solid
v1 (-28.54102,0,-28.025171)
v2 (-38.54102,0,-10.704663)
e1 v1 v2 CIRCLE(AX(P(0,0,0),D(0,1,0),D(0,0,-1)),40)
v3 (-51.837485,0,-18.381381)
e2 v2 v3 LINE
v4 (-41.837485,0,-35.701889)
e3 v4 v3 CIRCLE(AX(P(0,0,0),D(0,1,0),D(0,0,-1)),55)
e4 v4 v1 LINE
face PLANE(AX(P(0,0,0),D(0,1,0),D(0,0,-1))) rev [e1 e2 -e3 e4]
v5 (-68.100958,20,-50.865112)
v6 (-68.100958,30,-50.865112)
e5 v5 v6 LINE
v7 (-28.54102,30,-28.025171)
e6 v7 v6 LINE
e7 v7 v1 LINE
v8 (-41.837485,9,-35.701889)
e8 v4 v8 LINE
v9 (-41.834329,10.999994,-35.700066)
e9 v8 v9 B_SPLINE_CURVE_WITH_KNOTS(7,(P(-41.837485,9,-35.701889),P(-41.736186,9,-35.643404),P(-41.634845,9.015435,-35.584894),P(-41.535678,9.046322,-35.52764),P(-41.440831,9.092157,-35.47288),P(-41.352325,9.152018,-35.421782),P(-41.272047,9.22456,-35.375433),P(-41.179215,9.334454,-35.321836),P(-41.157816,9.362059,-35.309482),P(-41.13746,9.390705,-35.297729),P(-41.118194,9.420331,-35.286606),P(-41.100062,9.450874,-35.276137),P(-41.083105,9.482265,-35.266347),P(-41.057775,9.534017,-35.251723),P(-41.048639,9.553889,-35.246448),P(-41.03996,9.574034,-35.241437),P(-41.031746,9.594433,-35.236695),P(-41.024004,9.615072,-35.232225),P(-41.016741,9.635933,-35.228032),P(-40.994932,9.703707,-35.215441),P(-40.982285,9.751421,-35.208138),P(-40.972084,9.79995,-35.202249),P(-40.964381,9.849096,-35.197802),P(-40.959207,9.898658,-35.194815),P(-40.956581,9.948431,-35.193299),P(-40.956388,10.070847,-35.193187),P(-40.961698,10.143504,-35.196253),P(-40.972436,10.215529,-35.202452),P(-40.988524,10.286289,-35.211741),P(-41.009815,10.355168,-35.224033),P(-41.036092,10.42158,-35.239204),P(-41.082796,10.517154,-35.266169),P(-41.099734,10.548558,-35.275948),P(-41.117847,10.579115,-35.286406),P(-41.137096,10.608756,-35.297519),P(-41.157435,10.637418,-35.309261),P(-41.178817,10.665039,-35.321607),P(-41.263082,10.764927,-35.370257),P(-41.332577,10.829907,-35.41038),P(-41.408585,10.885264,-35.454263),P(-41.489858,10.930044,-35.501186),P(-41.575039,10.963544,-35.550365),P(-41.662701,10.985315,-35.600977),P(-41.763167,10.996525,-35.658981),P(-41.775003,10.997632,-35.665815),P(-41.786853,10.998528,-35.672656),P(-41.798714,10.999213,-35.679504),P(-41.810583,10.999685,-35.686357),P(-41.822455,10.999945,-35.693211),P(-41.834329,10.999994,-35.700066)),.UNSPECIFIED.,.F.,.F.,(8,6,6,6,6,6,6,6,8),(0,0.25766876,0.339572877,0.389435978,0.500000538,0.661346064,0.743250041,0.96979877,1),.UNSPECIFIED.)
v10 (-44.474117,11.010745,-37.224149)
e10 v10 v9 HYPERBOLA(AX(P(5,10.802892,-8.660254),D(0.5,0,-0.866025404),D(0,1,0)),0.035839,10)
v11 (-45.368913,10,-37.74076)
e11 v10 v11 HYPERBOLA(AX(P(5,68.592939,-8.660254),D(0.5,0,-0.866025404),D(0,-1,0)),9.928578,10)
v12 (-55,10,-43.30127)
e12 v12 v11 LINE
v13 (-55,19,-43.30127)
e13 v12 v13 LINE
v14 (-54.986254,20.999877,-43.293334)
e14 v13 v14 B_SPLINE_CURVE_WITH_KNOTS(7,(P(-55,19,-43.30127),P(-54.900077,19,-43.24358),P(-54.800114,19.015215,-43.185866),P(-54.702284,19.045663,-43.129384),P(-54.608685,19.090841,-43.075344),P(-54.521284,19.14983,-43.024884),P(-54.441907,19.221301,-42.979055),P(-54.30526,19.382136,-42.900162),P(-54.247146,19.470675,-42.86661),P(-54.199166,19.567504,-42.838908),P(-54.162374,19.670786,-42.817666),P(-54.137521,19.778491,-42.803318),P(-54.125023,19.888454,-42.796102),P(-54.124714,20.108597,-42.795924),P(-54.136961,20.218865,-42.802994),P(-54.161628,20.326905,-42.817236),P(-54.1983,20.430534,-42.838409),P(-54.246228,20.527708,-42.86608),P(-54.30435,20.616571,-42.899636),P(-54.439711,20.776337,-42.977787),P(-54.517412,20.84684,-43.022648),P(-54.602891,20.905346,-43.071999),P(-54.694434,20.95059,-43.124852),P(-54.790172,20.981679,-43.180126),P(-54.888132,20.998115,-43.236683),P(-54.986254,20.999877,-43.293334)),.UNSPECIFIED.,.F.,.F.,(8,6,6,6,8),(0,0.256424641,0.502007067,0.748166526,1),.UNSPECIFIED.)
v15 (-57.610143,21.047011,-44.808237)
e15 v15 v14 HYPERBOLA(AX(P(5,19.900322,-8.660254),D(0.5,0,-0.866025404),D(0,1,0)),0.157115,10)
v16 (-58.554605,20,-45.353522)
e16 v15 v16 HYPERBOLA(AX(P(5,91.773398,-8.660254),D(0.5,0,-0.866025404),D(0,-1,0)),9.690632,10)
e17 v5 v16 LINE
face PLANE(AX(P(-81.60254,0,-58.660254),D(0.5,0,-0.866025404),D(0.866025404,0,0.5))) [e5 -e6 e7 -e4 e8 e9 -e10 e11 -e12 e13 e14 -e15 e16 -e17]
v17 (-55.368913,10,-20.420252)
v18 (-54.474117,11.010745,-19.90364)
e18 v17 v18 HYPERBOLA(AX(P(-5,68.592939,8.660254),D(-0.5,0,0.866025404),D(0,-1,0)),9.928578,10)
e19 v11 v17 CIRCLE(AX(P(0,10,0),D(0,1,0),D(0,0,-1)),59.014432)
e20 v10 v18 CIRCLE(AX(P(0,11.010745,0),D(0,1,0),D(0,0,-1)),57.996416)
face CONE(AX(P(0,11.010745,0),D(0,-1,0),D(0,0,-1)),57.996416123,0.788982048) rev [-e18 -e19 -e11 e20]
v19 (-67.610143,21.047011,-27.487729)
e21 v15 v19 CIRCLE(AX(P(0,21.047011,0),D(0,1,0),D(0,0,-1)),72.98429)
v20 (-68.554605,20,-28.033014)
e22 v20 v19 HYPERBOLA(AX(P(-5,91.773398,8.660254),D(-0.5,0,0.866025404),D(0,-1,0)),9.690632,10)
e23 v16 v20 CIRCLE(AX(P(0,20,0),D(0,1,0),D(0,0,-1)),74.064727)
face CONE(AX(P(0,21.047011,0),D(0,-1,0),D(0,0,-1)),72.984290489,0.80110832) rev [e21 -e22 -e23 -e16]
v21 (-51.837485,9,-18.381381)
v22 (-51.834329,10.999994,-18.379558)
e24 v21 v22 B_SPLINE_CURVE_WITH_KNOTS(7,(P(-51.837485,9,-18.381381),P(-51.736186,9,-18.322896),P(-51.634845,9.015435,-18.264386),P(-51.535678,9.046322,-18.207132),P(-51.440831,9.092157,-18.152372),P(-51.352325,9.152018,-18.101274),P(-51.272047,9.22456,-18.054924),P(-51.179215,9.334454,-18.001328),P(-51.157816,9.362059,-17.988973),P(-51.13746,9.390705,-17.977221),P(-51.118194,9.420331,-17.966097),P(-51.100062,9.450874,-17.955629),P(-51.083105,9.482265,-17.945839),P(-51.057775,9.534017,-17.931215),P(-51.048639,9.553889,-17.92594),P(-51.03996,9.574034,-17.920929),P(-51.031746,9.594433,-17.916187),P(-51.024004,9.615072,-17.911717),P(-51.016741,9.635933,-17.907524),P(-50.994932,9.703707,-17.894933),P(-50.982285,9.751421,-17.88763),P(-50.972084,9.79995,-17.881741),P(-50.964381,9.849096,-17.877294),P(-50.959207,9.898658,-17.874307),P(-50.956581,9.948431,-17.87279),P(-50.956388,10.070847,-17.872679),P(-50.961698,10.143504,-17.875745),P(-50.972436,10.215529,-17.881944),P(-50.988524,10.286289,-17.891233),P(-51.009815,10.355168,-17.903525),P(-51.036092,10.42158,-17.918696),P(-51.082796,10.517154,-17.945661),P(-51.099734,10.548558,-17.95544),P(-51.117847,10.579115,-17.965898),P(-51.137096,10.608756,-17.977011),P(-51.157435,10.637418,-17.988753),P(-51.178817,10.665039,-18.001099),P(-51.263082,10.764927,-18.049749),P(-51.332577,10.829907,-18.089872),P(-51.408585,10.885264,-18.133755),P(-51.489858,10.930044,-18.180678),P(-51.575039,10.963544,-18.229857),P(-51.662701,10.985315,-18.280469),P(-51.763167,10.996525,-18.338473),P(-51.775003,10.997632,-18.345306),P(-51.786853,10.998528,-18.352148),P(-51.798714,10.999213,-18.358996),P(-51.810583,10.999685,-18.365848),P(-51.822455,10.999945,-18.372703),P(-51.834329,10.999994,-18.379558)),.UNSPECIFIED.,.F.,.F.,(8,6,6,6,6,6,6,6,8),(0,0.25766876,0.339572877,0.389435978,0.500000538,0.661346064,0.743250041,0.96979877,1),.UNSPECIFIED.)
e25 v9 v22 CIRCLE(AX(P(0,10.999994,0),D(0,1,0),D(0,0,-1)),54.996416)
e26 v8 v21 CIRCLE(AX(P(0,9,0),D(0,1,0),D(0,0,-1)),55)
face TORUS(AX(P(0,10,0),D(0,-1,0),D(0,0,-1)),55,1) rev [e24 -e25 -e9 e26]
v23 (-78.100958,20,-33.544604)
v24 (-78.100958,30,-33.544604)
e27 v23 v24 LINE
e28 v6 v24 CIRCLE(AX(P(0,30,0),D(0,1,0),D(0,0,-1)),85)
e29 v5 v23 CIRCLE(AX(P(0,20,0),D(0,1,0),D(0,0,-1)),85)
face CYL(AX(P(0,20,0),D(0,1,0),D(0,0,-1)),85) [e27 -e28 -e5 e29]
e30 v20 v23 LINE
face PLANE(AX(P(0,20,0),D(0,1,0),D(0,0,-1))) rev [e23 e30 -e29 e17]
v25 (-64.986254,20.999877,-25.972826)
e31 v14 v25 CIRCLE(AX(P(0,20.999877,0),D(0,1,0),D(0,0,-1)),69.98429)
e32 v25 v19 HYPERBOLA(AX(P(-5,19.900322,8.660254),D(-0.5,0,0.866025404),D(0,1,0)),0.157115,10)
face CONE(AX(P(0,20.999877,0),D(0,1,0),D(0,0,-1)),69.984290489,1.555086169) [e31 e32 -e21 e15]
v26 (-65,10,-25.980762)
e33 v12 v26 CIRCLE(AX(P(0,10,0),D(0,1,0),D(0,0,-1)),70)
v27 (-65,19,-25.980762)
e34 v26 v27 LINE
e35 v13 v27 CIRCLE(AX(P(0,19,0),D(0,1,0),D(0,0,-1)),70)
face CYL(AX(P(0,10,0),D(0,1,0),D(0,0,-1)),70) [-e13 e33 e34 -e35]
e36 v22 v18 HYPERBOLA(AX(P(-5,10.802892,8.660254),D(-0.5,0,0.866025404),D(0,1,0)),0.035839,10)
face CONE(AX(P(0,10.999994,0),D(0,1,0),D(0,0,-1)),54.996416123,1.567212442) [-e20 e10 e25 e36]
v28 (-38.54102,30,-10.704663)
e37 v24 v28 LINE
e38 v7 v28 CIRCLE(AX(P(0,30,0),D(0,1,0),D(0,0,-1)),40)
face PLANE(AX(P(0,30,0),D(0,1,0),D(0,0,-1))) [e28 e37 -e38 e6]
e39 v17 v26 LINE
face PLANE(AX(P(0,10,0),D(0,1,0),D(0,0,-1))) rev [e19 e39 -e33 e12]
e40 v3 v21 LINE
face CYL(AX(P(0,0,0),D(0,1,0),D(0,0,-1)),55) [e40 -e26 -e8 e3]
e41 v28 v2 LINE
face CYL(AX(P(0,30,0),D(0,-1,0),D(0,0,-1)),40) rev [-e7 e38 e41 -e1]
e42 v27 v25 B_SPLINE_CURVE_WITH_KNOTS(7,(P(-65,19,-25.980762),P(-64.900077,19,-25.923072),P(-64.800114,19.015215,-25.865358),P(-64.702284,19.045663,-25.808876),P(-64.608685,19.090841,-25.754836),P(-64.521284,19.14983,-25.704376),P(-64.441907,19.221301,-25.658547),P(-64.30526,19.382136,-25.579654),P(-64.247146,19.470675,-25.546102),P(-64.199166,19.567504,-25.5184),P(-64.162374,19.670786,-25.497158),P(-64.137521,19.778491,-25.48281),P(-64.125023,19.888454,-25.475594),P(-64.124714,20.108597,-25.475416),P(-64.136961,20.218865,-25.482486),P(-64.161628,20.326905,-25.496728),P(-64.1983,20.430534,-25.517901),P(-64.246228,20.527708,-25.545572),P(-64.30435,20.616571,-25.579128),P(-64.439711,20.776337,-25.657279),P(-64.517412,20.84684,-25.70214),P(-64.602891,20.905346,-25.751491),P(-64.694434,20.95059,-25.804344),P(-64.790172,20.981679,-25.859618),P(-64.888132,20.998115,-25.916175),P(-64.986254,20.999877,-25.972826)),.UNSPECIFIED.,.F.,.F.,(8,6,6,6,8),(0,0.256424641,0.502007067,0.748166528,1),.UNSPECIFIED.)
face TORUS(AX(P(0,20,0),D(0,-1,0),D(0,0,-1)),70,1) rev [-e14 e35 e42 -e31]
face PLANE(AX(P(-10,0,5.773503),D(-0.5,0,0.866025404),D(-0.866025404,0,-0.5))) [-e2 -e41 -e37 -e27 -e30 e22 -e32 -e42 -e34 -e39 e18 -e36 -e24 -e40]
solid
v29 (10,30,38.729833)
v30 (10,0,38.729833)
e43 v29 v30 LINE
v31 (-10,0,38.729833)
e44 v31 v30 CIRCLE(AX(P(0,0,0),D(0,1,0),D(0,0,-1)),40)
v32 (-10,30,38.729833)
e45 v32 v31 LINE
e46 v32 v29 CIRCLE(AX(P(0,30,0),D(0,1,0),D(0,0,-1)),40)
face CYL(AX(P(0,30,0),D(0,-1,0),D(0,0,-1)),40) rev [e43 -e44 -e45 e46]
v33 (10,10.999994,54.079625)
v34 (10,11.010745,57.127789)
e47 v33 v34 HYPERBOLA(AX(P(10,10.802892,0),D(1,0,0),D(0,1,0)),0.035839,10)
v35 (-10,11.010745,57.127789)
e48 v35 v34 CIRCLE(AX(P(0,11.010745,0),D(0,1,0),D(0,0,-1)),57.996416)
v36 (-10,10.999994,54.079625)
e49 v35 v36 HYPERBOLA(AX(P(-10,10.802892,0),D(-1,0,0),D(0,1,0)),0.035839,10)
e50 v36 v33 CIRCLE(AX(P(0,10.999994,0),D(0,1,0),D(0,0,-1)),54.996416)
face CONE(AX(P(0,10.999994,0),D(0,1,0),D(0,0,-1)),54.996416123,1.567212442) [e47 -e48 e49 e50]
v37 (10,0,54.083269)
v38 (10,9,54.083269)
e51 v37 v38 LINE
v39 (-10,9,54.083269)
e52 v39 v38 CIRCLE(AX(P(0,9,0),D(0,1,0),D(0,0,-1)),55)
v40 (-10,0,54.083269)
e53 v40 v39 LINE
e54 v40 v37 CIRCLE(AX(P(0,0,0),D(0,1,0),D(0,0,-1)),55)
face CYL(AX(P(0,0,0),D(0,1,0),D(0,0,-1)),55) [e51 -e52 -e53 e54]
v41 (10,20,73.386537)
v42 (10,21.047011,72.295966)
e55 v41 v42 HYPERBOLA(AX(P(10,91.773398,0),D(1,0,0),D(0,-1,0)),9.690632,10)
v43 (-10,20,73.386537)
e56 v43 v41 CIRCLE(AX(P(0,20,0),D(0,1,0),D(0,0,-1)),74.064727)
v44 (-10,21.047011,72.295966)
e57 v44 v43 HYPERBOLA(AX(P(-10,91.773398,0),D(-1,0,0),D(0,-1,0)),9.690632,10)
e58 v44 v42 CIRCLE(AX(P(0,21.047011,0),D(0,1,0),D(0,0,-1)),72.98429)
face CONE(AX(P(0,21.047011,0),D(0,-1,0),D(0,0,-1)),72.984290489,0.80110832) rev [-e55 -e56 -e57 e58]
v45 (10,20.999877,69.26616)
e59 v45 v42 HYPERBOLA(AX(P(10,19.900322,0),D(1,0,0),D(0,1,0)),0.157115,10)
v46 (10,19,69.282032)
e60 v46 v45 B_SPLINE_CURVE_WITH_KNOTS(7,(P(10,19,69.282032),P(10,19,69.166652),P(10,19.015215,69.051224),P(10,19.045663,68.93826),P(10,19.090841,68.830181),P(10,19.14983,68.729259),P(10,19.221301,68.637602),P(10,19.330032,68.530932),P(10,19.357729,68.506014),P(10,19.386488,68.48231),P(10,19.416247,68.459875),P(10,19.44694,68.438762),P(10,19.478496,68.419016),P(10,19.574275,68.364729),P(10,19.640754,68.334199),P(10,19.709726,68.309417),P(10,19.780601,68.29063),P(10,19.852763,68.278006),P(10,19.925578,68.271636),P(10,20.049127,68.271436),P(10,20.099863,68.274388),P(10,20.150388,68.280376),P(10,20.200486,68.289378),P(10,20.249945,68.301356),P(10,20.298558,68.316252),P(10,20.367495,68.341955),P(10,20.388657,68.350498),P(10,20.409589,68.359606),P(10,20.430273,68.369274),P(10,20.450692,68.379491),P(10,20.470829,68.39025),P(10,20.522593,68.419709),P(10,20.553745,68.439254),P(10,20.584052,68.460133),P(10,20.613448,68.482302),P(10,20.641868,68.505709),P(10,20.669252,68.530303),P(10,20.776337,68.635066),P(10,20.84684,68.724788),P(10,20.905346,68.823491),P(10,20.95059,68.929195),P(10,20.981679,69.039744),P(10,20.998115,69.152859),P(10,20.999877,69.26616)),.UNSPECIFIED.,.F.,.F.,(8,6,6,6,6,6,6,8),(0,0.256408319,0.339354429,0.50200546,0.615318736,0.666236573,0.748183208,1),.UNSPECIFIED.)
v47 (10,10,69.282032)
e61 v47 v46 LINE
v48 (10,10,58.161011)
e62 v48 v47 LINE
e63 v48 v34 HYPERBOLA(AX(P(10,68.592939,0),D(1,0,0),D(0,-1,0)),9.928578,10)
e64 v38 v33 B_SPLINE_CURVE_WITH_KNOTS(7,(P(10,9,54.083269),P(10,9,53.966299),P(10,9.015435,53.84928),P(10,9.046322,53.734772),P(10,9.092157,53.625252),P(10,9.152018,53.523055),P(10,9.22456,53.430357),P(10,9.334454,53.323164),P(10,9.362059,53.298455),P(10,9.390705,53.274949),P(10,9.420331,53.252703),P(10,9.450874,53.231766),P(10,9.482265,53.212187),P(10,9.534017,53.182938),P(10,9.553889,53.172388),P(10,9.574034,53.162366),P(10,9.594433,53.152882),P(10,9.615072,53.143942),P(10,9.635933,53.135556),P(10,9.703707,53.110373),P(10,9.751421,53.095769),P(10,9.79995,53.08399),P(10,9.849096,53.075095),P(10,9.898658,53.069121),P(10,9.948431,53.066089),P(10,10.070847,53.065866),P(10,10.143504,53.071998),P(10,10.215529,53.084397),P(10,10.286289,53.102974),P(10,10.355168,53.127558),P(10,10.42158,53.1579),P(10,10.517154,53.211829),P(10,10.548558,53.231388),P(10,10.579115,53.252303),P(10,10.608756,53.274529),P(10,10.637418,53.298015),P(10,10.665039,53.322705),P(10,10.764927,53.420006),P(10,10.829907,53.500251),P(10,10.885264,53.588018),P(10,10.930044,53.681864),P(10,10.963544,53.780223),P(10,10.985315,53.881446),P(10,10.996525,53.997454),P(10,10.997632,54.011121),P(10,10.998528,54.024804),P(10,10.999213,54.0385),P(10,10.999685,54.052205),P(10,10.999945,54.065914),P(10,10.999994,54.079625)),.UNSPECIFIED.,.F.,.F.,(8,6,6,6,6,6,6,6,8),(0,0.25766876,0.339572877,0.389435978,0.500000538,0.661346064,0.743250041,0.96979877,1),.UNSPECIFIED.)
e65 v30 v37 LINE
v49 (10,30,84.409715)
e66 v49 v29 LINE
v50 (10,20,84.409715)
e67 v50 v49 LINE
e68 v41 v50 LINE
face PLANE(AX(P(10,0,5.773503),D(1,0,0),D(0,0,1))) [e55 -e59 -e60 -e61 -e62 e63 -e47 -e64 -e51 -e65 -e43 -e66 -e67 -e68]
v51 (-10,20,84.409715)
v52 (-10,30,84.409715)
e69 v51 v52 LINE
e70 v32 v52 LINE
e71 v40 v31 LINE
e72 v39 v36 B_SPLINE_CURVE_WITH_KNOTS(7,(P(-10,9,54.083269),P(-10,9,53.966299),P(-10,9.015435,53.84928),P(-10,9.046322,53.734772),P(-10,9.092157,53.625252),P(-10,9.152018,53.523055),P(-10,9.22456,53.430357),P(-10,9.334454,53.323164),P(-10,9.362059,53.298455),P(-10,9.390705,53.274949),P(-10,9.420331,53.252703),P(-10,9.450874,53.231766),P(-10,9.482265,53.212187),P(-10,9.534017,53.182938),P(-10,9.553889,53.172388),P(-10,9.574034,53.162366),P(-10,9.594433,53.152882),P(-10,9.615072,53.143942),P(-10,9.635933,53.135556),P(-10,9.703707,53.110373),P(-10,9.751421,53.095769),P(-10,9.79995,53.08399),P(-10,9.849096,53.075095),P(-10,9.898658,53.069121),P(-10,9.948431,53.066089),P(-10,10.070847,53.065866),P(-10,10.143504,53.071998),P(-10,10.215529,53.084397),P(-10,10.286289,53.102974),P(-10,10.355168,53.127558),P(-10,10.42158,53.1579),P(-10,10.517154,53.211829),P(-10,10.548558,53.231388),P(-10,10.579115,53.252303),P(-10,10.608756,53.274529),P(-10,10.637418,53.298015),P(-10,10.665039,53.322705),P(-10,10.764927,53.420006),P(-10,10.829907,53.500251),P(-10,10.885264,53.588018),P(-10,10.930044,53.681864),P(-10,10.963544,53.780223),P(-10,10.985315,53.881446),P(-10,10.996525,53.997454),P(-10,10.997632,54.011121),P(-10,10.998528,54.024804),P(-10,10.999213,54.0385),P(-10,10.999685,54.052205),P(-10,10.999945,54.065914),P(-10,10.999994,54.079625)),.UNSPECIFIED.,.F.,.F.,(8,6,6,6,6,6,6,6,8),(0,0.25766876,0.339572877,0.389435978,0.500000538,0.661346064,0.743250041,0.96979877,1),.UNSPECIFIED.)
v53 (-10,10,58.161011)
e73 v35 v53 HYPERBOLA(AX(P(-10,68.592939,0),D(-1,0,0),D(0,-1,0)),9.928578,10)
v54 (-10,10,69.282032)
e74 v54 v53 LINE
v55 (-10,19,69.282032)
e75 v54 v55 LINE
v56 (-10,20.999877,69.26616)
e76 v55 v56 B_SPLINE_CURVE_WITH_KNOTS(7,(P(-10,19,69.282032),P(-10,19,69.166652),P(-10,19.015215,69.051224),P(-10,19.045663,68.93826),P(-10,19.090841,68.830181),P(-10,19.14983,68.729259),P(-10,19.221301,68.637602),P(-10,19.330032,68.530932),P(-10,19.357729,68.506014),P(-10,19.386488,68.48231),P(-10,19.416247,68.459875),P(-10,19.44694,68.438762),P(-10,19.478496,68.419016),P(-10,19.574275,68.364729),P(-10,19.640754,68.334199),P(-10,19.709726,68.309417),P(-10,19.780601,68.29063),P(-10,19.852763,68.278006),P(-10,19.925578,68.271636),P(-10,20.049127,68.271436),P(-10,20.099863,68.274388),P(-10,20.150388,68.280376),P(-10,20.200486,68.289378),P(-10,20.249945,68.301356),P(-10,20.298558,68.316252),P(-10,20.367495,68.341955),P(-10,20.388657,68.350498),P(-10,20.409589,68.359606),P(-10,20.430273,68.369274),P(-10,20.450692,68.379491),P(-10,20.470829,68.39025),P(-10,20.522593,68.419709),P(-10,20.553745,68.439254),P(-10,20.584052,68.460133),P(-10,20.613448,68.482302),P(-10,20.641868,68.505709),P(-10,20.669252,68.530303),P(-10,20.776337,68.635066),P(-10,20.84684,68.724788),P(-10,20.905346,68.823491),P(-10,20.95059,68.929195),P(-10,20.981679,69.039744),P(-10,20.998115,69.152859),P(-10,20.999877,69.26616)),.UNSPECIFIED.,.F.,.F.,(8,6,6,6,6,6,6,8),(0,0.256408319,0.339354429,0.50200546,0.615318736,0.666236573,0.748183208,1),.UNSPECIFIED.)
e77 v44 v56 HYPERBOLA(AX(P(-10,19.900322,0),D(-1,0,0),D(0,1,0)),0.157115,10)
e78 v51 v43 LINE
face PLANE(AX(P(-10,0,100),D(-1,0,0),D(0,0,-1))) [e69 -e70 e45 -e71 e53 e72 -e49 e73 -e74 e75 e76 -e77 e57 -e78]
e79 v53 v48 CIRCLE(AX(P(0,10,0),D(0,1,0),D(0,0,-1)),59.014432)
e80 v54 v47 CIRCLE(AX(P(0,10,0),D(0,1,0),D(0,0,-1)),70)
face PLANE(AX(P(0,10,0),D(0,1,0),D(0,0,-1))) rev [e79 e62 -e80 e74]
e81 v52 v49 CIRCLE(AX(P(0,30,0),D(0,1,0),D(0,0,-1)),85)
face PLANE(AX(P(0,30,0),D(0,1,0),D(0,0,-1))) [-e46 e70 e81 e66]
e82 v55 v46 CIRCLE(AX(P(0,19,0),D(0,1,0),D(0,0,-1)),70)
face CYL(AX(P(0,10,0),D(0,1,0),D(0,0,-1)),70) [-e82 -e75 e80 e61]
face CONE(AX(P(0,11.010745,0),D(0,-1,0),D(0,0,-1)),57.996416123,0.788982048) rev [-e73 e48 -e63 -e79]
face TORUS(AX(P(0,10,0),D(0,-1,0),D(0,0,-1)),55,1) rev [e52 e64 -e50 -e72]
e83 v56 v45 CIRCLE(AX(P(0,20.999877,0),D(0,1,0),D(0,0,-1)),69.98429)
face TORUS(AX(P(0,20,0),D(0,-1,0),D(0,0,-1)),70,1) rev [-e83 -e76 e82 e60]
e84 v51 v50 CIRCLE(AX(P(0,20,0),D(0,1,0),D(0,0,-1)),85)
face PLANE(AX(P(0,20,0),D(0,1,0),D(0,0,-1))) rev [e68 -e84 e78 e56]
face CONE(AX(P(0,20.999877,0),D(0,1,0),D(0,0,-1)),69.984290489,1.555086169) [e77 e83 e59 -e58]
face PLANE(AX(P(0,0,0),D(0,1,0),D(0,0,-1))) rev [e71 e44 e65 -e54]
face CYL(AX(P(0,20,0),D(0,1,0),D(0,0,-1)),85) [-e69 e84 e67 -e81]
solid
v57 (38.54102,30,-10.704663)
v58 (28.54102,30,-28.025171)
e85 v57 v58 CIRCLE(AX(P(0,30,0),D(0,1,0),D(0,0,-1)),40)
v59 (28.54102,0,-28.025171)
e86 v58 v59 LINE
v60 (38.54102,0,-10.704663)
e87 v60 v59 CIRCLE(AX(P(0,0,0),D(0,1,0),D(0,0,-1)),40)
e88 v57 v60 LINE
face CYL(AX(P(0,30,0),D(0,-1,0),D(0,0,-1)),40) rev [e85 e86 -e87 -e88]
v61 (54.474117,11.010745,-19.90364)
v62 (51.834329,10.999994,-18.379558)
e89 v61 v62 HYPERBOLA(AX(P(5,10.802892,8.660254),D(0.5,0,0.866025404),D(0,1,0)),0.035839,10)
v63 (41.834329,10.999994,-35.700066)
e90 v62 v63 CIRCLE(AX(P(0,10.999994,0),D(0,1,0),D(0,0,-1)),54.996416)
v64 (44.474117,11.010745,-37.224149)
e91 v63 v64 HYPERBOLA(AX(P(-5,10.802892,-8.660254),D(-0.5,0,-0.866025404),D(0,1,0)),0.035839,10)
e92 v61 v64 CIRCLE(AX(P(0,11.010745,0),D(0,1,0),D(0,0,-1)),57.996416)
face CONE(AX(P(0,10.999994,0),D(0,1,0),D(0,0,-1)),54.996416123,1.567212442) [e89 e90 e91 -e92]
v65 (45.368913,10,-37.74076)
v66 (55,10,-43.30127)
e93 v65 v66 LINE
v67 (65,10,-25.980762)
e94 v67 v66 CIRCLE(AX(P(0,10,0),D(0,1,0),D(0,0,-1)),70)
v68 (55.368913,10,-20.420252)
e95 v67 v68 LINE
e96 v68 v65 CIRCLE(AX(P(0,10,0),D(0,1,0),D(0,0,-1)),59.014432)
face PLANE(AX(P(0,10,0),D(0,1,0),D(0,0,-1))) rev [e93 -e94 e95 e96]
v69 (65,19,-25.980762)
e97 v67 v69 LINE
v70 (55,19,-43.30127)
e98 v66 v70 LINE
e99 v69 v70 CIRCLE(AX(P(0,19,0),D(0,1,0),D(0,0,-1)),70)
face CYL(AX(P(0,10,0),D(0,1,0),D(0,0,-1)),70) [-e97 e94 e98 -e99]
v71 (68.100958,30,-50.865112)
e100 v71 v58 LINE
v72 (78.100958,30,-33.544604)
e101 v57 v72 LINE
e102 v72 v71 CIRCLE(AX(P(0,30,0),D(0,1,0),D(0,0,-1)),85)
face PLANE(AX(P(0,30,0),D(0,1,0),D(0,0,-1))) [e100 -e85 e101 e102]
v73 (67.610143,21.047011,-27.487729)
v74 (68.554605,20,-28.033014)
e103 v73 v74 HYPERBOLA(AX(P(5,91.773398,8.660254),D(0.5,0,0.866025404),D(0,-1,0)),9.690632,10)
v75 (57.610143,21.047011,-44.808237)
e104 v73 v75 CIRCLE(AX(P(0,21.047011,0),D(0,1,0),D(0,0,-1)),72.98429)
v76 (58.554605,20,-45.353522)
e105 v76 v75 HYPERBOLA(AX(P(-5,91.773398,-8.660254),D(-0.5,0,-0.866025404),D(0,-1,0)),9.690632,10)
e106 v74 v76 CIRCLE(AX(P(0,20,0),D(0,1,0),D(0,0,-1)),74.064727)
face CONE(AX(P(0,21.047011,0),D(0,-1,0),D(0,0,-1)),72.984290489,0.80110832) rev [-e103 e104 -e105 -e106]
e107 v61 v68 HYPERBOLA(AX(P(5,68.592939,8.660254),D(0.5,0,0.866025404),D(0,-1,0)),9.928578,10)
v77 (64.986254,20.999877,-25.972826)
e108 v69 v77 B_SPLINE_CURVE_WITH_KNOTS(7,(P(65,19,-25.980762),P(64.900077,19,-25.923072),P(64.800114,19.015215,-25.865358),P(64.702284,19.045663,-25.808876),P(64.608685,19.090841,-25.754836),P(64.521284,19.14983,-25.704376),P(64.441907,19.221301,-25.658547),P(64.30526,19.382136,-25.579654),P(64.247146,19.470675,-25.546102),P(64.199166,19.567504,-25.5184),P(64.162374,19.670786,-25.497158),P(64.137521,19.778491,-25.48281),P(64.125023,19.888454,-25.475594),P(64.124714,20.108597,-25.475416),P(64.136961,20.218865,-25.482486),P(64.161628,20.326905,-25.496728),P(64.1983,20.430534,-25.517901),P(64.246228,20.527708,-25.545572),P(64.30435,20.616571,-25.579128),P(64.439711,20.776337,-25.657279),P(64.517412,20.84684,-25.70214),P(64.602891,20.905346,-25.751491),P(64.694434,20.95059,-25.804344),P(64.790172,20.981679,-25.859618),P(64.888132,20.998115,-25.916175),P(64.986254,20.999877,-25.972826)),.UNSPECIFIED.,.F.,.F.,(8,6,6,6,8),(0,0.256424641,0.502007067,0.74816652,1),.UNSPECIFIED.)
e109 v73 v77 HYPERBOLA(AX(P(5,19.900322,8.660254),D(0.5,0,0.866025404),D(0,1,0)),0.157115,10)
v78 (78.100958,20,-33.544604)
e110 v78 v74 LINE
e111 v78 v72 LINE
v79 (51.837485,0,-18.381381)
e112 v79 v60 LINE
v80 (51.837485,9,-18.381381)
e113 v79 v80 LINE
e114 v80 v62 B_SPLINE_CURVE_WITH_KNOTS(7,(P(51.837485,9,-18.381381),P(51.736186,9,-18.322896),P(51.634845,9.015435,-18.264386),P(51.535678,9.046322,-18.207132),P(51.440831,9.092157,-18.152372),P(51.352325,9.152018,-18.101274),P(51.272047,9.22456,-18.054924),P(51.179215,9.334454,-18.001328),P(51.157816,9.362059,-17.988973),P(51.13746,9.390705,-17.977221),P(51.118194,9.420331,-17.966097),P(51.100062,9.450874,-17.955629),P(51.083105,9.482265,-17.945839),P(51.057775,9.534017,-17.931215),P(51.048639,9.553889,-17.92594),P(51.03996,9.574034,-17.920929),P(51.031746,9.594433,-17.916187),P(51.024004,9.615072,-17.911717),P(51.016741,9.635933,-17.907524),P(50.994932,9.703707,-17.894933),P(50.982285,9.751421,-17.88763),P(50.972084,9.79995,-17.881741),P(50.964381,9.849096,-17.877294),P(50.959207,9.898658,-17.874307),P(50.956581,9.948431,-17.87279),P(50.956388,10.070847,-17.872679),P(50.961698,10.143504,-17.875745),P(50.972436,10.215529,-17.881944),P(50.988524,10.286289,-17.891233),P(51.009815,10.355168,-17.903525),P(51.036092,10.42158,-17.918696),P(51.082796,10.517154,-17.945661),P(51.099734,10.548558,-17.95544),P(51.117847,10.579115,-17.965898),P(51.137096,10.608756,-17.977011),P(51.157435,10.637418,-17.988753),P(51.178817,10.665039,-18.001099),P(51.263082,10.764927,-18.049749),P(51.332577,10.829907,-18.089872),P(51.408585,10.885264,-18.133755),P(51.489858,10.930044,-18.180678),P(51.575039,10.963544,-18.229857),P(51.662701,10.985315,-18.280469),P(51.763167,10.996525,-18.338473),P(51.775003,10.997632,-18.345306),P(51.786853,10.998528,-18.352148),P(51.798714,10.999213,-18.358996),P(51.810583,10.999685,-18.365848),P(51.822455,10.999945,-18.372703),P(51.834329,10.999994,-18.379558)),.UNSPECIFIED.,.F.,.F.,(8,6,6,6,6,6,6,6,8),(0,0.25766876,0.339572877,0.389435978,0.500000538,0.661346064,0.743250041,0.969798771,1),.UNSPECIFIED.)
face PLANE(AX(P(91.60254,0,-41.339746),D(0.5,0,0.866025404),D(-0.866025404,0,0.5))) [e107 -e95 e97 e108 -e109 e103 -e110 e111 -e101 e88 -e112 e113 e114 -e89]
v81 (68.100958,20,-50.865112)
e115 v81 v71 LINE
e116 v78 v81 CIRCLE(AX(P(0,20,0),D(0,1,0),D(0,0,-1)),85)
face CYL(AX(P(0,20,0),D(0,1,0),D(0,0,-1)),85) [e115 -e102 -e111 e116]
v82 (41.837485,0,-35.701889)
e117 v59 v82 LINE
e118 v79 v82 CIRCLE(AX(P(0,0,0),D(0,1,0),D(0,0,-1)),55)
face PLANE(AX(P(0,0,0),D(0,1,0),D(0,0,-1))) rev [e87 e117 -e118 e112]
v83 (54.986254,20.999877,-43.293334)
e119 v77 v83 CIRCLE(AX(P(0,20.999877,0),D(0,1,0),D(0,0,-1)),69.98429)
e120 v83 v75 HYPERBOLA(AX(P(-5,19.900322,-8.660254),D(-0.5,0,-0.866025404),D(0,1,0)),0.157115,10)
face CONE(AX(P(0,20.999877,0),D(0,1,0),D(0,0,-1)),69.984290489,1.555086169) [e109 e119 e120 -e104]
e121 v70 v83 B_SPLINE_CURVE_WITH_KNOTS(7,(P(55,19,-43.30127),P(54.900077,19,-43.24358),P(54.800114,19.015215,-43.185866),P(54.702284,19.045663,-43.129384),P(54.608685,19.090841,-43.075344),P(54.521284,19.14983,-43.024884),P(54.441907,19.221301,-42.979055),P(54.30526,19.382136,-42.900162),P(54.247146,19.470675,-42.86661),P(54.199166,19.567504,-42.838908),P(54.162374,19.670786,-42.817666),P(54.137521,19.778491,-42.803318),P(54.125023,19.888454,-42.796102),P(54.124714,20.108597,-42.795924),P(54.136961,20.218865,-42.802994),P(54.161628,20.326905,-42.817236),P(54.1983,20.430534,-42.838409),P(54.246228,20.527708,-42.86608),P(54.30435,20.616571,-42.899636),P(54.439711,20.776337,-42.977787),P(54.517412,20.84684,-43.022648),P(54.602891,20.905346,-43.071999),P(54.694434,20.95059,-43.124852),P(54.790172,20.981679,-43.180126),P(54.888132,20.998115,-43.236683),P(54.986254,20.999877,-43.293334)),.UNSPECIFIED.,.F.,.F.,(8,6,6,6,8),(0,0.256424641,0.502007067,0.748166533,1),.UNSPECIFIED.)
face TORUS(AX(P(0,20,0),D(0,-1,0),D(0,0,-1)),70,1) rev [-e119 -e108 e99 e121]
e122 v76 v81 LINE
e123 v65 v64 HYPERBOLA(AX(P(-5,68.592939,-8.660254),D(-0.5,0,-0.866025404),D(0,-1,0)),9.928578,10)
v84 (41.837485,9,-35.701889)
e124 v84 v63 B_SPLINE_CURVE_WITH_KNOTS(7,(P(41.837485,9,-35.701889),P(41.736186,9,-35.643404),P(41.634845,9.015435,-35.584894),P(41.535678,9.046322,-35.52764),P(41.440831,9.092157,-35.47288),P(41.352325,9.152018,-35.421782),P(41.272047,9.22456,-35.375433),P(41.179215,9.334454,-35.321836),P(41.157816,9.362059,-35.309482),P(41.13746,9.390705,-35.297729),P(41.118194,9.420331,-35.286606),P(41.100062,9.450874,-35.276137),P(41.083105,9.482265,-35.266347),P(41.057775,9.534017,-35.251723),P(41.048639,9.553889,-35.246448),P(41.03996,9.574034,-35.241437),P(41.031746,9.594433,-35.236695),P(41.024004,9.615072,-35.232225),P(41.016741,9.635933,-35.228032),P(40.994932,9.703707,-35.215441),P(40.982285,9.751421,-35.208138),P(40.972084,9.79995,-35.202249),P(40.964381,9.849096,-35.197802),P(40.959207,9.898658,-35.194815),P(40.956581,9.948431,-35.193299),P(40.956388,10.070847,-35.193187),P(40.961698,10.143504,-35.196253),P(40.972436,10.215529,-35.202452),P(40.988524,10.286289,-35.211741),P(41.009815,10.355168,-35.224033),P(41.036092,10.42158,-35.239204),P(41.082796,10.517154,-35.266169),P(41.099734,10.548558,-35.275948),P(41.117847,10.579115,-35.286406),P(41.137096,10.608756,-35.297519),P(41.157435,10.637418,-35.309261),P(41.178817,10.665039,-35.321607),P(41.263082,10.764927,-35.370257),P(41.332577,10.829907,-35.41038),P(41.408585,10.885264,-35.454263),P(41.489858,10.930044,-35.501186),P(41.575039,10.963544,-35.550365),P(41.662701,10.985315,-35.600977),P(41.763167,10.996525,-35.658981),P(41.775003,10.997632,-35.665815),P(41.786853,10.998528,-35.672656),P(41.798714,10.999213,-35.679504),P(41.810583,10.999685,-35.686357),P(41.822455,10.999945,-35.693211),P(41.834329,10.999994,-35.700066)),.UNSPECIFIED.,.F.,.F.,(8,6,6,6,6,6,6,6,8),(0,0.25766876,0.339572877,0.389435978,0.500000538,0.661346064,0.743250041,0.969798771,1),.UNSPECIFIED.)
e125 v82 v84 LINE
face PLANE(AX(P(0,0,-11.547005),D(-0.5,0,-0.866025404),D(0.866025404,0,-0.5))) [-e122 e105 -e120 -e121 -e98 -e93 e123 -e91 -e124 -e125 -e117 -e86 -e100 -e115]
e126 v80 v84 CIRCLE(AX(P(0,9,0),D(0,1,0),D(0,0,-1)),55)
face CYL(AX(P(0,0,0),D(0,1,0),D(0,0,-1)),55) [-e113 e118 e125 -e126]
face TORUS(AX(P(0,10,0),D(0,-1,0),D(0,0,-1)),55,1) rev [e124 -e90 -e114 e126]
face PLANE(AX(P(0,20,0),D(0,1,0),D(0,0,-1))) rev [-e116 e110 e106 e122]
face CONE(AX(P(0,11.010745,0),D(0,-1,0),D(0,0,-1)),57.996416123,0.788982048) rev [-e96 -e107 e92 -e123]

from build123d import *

# Parameters (mm, degrees)
SKETCH2_OUTSIDE_W  = 220.456
SKETCH2_OUTSIDE_H  = 220.456
CUT_EXTRUDE2_DEPTH = 124.895116934


with BuildPart() as part:
    # Sketch1 → Revolve1 (revolve)
    with BuildSketch(Plane.XY, mode=Mode.PRIVATE) as revolve1_sk:
        with BuildLine():
            Line((55, 0), (55, 9))
            ThreePointArc((55, 9), (54.000001606, 9.998208058), (54.996416123, 10.999993578))
            Line((54.996416123, 10.999993578), (57.996416123, 11.010745279))
            Line((57.996416123, 11.010745279), (59.01443228, 10))
            Line((59.01443228, 10), (70, 10))
            Line((70, 10), (70, 19))
            ThreePointArc((70, 19), (69.000030851, 19.992145002), (69.984290489, 20.999876598))
            Line((69.984290489, 20.999876598), (72.984290489, 21.047010949))
            Line((72.984290489, 21.047010949), (74.064726717, 20))
            Line((74.064726717, 20), (85, 20))
            Line((85, 20), (85, 30))
            Line((85, 30), (40, 30))
            Line((40, 30), (40, 0))
            Line((40, 0), (55, 0))
        make_face()
    revolve(revolve1_sk.sketch.rotate(Axis((0, 0, 0), (0, 1, 0)), 90), axis=Axis((0, 0, 0), (0, 1, 0)))

    # Sketch2 outside → Cut-Extrude2 (cut, through all)
    with BuildSketch(Plane(origin=(0, 0, 0), x_dir=(1, 0, 0), z_dir=(0, 1, 0))):
        Rectangle(SKETCH2_OUTSIDE_W, SKETCH2_OUTSIDE_H)
        Polygon((-81.602540378, 58.660254038), (0, 11.547005384), (81.602540378, 58.660254038), (91.602540378, 41.339745962), (10, -5.773502692), (10, -100), (-10, -100), (-10, -5.773502692), (-91.602540378, 41.339745962), align=None, mode=Mode.SUBTRACT)
    extrude(amount=CUT_EXTRUDE2_DEPTH, mode=Mode.SUBTRACT)


with BuildPart() as cut_extrude2_piece_1:
    # of the separate pieces the step leaves, piece 1, a body of its own (cut_extrude2_pieces)
    add(part.part.solids().sort_by_distance((-10, 0, 54.083269132))[0])


with BuildPart() as cut_extrude2_piece_2:
    # of the separate pieces the step leaves, piece 2, a body of its own (cut_extrude2_pieces)
    add(part.part.solids().sort_by_distance((51.837484988, 0, -18.381380528))[0])


with BuildPart() as cut_extrude2_piece_3:
    # of the separate pieces the step leaves, piece 3, a body of its own (cut_extrude2_pieces)
    add(part.part.solids().sort_by_distance((-41.837484988, 0, -35.701888604))[0])


solid = Compound([cut_extrude2_piece_1.part, cut_extrude2_piece_2.part, cut_extrude2_piece_3.part])
